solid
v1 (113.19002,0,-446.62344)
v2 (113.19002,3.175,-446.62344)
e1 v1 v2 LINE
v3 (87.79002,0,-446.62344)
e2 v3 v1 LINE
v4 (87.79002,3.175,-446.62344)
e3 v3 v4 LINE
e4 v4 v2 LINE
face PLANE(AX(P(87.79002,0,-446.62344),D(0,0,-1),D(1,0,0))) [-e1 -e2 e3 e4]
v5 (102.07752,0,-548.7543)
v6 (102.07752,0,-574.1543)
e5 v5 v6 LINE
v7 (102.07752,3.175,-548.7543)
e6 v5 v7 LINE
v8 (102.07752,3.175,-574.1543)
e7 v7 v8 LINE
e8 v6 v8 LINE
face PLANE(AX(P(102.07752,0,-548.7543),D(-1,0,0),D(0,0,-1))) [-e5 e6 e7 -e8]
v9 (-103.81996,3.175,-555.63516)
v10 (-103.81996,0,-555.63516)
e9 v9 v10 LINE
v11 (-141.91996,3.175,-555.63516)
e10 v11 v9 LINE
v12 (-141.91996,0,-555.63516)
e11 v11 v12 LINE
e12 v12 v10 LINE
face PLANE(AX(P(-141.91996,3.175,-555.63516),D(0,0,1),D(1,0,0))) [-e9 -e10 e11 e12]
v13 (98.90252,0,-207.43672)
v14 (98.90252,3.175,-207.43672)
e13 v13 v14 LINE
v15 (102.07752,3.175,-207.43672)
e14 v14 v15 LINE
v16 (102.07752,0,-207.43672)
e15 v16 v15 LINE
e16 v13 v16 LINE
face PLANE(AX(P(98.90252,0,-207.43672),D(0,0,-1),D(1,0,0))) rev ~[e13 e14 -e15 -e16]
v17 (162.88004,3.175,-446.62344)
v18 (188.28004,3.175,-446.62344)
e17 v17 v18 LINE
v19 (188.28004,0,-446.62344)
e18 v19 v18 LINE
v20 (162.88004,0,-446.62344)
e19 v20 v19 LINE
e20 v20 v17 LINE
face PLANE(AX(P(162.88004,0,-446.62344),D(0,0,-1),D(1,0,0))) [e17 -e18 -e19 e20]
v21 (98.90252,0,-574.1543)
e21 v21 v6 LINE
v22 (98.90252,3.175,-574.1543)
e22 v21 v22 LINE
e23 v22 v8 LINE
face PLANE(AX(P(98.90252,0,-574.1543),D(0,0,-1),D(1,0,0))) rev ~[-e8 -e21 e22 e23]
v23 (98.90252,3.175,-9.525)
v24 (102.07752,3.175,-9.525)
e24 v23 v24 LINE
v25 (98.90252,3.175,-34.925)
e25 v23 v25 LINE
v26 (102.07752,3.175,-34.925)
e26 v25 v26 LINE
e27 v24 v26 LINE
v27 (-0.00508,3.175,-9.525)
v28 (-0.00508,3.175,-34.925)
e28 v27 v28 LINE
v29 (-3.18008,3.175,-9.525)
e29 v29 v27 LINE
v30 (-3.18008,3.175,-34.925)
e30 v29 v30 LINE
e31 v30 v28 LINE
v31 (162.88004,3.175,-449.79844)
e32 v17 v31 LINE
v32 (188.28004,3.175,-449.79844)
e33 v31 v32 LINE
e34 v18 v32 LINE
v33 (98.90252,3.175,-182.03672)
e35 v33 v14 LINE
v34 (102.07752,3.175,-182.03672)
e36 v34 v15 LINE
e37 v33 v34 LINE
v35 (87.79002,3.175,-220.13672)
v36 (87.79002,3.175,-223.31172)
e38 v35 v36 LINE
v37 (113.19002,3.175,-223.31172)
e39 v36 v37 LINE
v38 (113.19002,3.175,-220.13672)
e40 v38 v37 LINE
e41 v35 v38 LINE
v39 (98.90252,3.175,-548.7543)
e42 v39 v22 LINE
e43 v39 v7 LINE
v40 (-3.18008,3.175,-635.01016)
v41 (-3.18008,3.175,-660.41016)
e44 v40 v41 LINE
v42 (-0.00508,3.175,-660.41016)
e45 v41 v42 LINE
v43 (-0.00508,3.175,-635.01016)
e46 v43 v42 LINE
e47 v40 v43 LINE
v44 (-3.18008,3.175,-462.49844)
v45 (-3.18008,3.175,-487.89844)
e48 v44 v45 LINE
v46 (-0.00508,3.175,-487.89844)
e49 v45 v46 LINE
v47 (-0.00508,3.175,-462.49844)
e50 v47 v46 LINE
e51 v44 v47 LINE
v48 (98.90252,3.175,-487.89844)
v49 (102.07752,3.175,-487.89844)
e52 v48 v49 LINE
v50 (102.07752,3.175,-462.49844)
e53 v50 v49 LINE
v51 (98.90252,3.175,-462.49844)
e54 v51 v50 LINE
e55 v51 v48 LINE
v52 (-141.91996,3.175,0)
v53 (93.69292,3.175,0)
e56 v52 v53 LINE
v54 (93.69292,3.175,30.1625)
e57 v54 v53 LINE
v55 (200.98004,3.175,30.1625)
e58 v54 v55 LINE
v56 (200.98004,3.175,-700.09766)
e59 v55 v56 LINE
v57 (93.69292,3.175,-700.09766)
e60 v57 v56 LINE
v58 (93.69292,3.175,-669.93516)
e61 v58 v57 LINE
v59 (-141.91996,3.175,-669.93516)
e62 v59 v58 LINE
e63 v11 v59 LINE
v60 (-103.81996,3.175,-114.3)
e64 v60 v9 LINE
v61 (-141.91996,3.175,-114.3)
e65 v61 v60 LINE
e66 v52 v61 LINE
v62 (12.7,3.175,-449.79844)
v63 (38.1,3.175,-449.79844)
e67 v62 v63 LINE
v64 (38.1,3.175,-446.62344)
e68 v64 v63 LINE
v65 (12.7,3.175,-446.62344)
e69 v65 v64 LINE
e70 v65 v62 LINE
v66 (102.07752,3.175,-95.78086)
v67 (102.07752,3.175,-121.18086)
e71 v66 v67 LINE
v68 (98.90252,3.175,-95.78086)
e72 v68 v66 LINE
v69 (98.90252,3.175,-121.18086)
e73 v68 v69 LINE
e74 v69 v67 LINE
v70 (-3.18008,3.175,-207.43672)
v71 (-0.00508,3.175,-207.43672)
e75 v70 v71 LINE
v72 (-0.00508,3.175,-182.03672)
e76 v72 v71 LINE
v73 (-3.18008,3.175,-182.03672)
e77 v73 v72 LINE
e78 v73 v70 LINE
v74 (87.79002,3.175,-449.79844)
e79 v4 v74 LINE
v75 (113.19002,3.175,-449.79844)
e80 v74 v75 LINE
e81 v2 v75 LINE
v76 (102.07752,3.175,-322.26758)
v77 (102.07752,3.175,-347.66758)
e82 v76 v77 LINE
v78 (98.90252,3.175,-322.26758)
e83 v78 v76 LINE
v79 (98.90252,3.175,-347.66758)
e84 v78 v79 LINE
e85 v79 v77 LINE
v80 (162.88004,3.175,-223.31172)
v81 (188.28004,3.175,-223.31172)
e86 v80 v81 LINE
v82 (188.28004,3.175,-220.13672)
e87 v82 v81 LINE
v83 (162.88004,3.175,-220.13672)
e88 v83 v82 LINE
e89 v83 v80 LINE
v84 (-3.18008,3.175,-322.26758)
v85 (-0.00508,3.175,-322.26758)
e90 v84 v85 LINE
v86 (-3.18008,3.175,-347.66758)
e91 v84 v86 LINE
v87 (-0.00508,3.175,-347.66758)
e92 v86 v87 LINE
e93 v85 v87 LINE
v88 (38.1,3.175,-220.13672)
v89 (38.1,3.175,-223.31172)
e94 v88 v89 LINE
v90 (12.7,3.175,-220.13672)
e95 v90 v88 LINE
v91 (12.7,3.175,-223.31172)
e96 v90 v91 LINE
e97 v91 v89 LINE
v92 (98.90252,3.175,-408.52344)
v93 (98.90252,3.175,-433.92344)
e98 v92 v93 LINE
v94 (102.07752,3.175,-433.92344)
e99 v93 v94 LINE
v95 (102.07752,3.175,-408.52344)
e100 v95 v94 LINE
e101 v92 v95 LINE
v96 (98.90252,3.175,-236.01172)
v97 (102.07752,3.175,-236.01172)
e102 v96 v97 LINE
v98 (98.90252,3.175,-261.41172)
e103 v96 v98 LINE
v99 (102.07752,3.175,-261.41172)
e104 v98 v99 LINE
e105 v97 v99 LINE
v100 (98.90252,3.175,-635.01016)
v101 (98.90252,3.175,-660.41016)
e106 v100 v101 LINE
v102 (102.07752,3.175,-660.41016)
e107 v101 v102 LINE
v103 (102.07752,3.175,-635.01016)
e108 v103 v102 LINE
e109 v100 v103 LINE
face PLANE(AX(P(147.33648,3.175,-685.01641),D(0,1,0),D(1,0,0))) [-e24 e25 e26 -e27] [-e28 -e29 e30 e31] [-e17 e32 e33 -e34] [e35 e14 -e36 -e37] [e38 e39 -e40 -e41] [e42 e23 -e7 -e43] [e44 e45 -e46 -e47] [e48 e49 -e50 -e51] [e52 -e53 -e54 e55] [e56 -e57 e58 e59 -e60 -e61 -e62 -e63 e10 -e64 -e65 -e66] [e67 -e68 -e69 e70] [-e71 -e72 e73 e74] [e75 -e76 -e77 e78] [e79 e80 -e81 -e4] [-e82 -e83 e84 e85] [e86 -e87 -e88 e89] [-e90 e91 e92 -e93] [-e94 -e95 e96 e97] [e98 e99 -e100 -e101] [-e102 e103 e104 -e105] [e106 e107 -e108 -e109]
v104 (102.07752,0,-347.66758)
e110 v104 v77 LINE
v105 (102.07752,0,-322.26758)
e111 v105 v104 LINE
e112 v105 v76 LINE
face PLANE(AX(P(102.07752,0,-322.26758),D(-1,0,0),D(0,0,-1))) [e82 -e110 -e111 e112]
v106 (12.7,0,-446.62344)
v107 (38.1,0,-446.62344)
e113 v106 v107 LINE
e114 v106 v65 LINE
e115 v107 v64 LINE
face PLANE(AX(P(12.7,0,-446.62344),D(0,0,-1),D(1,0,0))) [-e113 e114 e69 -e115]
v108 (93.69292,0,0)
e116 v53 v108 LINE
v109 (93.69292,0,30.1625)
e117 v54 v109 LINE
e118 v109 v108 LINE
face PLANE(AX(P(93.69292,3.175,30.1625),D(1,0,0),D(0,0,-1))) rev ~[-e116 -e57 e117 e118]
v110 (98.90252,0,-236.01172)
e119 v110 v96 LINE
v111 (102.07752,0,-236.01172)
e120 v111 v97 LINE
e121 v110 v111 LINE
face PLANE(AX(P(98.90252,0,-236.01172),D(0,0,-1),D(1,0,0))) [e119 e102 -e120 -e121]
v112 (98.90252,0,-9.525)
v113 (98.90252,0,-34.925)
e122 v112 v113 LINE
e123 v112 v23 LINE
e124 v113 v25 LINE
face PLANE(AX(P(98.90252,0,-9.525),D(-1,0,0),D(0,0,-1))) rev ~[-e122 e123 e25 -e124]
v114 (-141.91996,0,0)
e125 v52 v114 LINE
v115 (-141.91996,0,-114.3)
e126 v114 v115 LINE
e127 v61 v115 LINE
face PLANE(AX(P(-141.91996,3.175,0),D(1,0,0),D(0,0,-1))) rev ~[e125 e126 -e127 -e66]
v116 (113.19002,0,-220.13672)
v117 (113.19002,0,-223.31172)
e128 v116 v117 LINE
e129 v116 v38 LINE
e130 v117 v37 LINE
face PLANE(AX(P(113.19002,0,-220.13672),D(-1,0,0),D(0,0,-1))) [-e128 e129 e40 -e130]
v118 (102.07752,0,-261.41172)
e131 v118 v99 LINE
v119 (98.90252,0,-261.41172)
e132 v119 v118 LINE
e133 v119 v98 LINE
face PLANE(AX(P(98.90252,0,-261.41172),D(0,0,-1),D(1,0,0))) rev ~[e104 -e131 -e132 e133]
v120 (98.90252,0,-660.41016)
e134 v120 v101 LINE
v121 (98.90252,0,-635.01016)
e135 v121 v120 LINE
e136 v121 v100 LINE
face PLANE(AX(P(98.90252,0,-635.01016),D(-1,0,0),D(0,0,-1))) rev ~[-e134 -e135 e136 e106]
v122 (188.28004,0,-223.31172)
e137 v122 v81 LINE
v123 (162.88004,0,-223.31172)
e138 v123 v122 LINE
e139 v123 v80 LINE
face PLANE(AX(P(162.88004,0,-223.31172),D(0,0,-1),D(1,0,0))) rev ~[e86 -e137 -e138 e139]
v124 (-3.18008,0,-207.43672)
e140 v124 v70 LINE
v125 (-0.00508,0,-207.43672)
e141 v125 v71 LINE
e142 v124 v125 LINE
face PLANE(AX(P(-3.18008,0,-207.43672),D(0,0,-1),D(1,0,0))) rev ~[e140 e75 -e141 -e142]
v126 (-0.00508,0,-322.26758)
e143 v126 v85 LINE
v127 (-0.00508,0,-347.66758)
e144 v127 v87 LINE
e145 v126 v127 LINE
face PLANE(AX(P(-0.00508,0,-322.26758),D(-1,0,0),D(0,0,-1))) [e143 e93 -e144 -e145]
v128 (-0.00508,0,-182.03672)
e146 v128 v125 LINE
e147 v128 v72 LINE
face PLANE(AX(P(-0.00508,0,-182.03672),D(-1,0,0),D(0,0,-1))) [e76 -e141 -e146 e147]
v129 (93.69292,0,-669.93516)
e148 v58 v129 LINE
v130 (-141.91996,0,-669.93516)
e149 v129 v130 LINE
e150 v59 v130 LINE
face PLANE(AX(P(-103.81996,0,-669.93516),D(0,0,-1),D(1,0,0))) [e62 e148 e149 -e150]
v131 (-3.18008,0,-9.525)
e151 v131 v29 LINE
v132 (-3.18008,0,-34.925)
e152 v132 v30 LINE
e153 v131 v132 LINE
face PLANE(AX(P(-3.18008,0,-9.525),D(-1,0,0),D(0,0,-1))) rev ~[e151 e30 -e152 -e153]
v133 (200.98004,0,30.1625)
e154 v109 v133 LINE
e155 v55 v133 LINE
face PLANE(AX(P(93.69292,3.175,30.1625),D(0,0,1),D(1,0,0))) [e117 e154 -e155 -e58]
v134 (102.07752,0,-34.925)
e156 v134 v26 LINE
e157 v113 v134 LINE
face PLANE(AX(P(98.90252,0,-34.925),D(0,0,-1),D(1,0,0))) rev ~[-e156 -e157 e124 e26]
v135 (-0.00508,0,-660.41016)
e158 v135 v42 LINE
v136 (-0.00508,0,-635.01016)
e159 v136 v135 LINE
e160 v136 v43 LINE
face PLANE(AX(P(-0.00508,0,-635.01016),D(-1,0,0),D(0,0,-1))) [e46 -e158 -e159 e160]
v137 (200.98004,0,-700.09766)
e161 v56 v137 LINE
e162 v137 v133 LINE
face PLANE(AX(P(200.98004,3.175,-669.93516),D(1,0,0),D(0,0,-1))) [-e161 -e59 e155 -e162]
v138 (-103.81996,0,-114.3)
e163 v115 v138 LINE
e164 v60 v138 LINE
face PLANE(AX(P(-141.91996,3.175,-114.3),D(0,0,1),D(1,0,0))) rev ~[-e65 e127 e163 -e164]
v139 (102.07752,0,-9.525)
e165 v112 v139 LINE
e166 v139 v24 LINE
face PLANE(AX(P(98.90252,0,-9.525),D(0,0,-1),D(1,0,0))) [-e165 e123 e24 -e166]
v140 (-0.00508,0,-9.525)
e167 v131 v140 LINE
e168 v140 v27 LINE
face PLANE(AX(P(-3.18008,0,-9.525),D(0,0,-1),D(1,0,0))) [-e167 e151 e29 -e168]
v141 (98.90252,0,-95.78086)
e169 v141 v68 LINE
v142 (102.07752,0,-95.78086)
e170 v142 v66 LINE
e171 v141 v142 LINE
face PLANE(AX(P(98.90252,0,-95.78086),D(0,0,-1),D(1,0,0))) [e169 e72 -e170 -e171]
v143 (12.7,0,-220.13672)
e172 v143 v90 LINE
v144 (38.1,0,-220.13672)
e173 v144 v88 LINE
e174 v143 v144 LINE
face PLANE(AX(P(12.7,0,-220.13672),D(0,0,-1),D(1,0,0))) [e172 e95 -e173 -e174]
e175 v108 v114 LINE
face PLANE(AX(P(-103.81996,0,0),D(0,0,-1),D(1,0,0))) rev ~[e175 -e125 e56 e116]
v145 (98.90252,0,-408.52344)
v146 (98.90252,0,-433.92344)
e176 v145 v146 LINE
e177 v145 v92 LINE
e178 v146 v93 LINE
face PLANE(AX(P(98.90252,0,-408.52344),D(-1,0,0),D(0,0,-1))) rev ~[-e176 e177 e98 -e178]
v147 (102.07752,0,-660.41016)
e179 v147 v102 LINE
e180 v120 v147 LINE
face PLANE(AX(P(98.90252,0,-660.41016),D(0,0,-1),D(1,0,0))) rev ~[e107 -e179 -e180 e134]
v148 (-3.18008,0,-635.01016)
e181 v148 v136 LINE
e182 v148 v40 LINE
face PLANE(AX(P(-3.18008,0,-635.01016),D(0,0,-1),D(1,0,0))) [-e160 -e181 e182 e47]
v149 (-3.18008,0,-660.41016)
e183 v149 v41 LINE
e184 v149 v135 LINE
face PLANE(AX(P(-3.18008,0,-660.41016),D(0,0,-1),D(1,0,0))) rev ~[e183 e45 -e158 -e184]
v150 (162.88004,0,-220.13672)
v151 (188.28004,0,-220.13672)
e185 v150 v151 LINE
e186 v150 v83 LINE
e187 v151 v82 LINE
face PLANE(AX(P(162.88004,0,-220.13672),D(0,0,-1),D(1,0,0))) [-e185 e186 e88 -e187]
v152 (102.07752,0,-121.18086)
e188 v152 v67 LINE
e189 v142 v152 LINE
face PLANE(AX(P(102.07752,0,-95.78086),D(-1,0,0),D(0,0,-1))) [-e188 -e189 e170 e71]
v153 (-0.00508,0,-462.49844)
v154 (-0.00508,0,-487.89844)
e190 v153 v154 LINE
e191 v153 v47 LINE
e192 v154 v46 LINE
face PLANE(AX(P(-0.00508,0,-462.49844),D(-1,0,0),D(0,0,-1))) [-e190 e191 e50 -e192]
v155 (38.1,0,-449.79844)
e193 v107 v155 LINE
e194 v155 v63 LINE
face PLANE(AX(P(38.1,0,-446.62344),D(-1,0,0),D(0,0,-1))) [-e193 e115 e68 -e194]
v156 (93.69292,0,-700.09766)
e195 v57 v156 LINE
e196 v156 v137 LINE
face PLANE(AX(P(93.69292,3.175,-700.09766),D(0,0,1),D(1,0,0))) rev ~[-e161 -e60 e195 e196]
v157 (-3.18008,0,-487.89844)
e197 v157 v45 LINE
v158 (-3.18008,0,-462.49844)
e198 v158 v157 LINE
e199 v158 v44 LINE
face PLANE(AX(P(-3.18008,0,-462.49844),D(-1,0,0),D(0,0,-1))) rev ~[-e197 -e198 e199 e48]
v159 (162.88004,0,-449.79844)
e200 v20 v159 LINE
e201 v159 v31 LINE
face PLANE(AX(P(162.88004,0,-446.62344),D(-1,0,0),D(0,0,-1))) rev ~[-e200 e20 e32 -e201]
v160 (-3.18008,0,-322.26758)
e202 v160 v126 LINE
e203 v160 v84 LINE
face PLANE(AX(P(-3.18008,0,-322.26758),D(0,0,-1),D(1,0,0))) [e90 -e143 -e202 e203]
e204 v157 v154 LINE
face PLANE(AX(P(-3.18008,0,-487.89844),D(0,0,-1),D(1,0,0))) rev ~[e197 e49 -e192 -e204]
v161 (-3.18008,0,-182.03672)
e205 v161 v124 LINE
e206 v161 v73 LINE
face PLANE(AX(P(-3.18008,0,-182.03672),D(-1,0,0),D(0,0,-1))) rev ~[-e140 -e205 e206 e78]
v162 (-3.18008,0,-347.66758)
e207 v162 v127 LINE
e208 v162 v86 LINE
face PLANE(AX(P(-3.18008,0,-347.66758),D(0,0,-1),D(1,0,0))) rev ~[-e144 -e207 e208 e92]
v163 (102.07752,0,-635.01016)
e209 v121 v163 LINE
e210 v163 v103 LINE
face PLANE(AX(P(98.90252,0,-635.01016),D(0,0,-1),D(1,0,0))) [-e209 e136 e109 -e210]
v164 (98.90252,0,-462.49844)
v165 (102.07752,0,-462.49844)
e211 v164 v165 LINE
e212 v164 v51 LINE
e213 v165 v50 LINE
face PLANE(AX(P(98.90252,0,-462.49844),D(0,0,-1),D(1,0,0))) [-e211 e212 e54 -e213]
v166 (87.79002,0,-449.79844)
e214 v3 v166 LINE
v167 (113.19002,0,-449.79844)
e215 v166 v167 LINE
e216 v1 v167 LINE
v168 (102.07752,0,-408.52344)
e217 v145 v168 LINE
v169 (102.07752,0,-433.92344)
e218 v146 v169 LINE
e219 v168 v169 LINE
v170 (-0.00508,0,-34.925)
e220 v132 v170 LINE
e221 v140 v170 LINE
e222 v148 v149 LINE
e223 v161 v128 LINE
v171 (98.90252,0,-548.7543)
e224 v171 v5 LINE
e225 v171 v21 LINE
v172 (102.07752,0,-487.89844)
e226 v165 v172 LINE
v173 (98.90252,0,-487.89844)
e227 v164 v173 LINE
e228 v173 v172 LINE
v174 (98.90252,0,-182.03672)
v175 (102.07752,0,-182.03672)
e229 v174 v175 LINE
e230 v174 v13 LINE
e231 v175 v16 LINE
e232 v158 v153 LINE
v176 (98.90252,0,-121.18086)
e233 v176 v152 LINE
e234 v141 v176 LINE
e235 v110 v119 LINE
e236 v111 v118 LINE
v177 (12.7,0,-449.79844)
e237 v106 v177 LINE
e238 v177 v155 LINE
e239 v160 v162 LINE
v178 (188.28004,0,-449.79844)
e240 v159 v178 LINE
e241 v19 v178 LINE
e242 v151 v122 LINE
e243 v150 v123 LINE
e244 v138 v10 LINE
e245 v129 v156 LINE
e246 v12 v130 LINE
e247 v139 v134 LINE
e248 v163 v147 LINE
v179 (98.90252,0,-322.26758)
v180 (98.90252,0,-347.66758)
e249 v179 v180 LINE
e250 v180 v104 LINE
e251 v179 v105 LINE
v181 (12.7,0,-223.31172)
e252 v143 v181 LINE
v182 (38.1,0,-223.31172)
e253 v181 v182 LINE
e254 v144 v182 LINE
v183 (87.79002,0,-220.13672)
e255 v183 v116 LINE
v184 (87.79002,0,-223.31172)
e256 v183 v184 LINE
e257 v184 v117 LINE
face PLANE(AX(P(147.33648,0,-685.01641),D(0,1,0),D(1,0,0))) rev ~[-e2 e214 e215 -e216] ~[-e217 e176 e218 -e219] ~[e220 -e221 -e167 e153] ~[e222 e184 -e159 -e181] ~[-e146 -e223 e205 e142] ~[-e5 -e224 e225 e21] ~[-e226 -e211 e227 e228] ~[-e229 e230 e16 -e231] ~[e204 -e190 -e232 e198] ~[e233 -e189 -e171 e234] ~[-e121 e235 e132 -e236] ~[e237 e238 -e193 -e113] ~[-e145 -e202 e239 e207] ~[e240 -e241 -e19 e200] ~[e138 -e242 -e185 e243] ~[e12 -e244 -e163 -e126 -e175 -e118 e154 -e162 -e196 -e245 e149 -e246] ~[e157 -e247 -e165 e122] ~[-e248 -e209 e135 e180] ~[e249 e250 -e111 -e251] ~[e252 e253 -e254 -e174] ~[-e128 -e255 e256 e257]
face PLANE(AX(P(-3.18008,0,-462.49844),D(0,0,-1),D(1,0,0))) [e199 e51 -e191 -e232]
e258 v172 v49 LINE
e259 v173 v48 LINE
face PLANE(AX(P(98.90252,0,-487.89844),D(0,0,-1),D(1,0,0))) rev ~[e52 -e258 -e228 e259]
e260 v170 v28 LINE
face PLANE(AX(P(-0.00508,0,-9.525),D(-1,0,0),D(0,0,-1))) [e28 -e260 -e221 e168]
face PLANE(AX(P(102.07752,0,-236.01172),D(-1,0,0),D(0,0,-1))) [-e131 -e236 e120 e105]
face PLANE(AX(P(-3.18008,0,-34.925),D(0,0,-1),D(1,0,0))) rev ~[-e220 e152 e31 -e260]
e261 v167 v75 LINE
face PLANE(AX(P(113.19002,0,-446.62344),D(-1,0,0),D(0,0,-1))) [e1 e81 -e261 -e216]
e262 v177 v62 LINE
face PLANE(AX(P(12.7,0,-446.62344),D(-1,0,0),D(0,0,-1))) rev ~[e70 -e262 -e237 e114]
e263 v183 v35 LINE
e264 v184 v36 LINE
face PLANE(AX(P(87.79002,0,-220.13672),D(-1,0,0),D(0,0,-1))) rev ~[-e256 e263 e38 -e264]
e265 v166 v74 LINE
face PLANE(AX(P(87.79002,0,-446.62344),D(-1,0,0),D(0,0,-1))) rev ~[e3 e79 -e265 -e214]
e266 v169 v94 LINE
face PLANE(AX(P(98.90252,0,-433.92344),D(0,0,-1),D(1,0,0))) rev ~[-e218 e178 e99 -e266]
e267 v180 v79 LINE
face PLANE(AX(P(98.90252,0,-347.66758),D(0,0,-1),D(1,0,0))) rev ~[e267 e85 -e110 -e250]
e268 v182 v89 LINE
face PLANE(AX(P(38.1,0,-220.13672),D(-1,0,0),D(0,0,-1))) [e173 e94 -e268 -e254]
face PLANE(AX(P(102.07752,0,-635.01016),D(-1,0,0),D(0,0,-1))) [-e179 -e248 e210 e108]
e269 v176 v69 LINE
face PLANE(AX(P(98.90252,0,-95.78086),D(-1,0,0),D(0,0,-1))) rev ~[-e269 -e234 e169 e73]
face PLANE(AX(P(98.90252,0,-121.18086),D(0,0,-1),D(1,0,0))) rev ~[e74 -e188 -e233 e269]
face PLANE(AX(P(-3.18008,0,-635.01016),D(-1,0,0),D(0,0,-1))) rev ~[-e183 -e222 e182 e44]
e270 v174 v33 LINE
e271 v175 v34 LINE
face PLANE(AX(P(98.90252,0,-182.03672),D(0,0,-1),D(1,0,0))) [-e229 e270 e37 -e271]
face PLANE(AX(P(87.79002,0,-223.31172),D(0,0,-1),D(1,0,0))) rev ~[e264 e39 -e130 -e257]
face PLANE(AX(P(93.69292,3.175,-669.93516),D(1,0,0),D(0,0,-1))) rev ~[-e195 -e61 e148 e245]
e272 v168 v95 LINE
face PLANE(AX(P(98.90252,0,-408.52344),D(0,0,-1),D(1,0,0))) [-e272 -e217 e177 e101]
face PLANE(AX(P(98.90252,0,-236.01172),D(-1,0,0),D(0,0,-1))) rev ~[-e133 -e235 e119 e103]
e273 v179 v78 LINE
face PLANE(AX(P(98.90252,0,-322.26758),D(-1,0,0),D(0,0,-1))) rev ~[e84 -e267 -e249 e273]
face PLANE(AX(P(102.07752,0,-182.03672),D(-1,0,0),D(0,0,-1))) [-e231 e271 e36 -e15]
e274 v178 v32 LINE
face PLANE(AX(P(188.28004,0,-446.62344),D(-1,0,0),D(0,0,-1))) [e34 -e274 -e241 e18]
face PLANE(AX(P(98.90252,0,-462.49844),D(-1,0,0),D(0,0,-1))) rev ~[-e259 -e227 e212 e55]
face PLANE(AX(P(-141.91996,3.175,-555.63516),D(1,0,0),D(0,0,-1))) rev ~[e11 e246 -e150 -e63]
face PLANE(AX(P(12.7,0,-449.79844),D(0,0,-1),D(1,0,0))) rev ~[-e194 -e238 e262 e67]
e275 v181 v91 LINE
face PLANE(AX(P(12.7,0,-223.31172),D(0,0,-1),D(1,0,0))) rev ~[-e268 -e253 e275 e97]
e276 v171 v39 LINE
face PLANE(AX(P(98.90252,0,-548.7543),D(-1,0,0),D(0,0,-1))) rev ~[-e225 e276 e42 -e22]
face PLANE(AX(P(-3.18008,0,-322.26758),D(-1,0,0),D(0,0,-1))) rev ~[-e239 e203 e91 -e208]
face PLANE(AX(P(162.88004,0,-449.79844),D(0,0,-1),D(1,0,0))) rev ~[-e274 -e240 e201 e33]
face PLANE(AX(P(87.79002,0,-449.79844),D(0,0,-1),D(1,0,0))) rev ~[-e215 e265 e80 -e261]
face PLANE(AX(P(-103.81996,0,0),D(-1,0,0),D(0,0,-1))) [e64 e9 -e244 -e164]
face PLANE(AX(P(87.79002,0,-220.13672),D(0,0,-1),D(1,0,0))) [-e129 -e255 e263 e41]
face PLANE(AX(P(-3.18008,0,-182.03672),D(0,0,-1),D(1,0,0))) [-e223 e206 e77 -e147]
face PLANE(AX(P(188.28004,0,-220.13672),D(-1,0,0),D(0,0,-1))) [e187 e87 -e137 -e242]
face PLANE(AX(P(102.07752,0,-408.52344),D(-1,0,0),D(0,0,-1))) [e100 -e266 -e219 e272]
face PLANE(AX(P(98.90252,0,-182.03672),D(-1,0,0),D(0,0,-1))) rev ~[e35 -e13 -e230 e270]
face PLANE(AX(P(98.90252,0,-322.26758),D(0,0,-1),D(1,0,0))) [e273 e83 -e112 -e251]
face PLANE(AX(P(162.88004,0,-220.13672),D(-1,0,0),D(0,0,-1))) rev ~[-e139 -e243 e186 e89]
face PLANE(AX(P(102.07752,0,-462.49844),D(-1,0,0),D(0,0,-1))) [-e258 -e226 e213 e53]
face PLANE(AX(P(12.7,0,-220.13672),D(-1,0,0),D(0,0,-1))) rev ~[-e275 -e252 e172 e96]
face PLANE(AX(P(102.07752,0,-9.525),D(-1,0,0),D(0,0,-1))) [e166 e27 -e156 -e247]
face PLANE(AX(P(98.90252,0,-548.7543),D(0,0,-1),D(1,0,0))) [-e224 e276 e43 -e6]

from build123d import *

# Parameters (mm, degrees)
SKETCH3_W           = 304.8
SKETCH3_H           = 669.93516
SKETCH3_W_2         = 25.4
SKETCH3_H_2         = 3.175
SKETCH3_W_3         = 3.175
SKETCH3_H_3         = 25.4
BOSS_EXTRUDE1_DEPTH = 3.175
SKETCH6_W           = 107.287119944
SKETCH6_H           = 30.1625
SKETCH6_W_2         = 38.1
SKETCH6_H_2         = 114.3
BOSS_EXTRUDE2_DEPTH = 3.175


with BuildPart() as part:
    # Sketch3 → Boss-Extrude1 (new body)
    with BuildSketch(Plane(origin=(0, 0, 0), x_dir=(1, 0, 0), z_dir=(0, 1, 0))):
        with Locations((48.58004, 334.96758)):
            Rectangle(SKETCH3_W, SKETCH3_H)
        with Locations((25.4, 448.21094)):
            Rectangle(SKETCH3_W_2, SKETCH3_H_2, mode=Mode.SUBTRACT)
        with Locations((175.58004, 448.21094)):
            Rectangle(SKETCH3_W_2, SKETCH3_H_2, mode=Mode.SUBTRACT)
        with Locations((100.49002, 448.21094)):
            Rectangle(SKETCH3_W_2, SKETCH3_H_2, mode=Mode.SUBTRACT)
        with Locations((100.49002, 647.71016)):
            Rectangle(SKETCH3_W_3, SKETCH3_H_3, mode=Mode.SUBTRACT)
        with Locations((100.49002, 475.19844)):
            Rectangle(SKETCH3_W_3, SKETCH3_H_3, mode=Mode.SUBTRACT)
        with Locations((100.49002, 561.4543)):
            Rectangle(SKETCH3_W_3, SKETCH3_H_3, mode=Mode.SUBTRACT)
        with Locations((100.49002, 421.22344)):
            Rectangle(SKETCH3_W_3, SKETCH3_H_3, mode=Mode.SUBTRACT)
        with Locations((100.49002, 334.96758)):
            Rectangle(SKETCH3_W_3, SKETCH3_H_3, mode=Mode.SUBTRACT)
        with Locations((100.49002, 248.71172)):
            Rectangle(SKETCH3_W_3, SKETCH3_H_3, mode=Mode.SUBTRACT)
        with Locations((25.4, 221.72422)):
            Rectangle(SKETCH3_W_2, SKETCH3_H_2, mode=Mode.SUBTRACT)
        with Locations((100.49002, 221.72422)):
            Rectangle(SKETCH3_W_2, SKETCH3_H_2, mode=Mode.SUBTRACT)
        with Locations((175.58004, 221.72422)):
            Rectangle(SKETCH3_W_2, SKETCH3_H_2, mode=Mode.SUBTRACT)
        with Locations((100.49002, 22.225)):
            Rectangle(SKETCH3_W_3, SKETCH3_H_3, mode=Mode.SUBTRACT)
        with Locations((100.49002, 108.48086)):
            Rectangle(SKETCH3_W_3, SKETCH3_H_3, mode=Mode.SUBTRACT)
        with Locations((100.49002, 194.73672)):
            Rectangle(SKETCH3_W_3, SKETCH3_H_3, mode=Mode.SUBTRACT)
        with Locations((-1.59258, 647.71016)):
            Rectangle(SKETCH3_W_3, SKETCH3_H_3, mode=Mode.SUBTRACT)
        with Locations((-1.59258, 475.19844)):
            Rectangle(SKETCH3_W_3, SKETCH3_H_3, mode=Mode.SUBTRACT)
        with Locations((-1.59258, 334.96758)):
            Rectangle(SKETCH3_W_3, SKETCH3_H_3, mode=Mode.SUBTRACT)
        with Locations((-1.59258, 194.73672)):
            Rectangle(SKETCH3_W_3, SKETCH3_H_3, mode=Mode.SUBTRACT)
        with Locations((-1.59258, 22.225)):
            Rectangle(SKETCH3_W_3, SKETCH3_H_3, mode=Mode.SUBTRACT)
    extrude(amount=BOSS_EXTRUDE1_DEPTH)

    # Sketch6 → Boss-Extrude2 (add)
    with BuildSketch(Plane(origin=(0, 3.175, 0), x_dir=(1, 0, 0), z_dir=(0, 1, 0))):
        with Locations((147.336480028, 685.01641)):
            Rectangle(SKETCH6_W, SKETCH6_H)
        with Locations((147.336480028, -15.08125)):
            Rectangle(SKETCH6_W, SKETCH6_H)
        with Locations((-122.86996, 612.78516)):
            Rectangle(SKETCH6_W_2, SKETCH6_H_2)
        with Locations((-122.86996, 57.15)):
            Rectangle(SKETCH6_W_2, SKETCH6_H_2)
    extrude(amount=-BOSS_EXTRUDE2_DEPTH)


solid = part.part
